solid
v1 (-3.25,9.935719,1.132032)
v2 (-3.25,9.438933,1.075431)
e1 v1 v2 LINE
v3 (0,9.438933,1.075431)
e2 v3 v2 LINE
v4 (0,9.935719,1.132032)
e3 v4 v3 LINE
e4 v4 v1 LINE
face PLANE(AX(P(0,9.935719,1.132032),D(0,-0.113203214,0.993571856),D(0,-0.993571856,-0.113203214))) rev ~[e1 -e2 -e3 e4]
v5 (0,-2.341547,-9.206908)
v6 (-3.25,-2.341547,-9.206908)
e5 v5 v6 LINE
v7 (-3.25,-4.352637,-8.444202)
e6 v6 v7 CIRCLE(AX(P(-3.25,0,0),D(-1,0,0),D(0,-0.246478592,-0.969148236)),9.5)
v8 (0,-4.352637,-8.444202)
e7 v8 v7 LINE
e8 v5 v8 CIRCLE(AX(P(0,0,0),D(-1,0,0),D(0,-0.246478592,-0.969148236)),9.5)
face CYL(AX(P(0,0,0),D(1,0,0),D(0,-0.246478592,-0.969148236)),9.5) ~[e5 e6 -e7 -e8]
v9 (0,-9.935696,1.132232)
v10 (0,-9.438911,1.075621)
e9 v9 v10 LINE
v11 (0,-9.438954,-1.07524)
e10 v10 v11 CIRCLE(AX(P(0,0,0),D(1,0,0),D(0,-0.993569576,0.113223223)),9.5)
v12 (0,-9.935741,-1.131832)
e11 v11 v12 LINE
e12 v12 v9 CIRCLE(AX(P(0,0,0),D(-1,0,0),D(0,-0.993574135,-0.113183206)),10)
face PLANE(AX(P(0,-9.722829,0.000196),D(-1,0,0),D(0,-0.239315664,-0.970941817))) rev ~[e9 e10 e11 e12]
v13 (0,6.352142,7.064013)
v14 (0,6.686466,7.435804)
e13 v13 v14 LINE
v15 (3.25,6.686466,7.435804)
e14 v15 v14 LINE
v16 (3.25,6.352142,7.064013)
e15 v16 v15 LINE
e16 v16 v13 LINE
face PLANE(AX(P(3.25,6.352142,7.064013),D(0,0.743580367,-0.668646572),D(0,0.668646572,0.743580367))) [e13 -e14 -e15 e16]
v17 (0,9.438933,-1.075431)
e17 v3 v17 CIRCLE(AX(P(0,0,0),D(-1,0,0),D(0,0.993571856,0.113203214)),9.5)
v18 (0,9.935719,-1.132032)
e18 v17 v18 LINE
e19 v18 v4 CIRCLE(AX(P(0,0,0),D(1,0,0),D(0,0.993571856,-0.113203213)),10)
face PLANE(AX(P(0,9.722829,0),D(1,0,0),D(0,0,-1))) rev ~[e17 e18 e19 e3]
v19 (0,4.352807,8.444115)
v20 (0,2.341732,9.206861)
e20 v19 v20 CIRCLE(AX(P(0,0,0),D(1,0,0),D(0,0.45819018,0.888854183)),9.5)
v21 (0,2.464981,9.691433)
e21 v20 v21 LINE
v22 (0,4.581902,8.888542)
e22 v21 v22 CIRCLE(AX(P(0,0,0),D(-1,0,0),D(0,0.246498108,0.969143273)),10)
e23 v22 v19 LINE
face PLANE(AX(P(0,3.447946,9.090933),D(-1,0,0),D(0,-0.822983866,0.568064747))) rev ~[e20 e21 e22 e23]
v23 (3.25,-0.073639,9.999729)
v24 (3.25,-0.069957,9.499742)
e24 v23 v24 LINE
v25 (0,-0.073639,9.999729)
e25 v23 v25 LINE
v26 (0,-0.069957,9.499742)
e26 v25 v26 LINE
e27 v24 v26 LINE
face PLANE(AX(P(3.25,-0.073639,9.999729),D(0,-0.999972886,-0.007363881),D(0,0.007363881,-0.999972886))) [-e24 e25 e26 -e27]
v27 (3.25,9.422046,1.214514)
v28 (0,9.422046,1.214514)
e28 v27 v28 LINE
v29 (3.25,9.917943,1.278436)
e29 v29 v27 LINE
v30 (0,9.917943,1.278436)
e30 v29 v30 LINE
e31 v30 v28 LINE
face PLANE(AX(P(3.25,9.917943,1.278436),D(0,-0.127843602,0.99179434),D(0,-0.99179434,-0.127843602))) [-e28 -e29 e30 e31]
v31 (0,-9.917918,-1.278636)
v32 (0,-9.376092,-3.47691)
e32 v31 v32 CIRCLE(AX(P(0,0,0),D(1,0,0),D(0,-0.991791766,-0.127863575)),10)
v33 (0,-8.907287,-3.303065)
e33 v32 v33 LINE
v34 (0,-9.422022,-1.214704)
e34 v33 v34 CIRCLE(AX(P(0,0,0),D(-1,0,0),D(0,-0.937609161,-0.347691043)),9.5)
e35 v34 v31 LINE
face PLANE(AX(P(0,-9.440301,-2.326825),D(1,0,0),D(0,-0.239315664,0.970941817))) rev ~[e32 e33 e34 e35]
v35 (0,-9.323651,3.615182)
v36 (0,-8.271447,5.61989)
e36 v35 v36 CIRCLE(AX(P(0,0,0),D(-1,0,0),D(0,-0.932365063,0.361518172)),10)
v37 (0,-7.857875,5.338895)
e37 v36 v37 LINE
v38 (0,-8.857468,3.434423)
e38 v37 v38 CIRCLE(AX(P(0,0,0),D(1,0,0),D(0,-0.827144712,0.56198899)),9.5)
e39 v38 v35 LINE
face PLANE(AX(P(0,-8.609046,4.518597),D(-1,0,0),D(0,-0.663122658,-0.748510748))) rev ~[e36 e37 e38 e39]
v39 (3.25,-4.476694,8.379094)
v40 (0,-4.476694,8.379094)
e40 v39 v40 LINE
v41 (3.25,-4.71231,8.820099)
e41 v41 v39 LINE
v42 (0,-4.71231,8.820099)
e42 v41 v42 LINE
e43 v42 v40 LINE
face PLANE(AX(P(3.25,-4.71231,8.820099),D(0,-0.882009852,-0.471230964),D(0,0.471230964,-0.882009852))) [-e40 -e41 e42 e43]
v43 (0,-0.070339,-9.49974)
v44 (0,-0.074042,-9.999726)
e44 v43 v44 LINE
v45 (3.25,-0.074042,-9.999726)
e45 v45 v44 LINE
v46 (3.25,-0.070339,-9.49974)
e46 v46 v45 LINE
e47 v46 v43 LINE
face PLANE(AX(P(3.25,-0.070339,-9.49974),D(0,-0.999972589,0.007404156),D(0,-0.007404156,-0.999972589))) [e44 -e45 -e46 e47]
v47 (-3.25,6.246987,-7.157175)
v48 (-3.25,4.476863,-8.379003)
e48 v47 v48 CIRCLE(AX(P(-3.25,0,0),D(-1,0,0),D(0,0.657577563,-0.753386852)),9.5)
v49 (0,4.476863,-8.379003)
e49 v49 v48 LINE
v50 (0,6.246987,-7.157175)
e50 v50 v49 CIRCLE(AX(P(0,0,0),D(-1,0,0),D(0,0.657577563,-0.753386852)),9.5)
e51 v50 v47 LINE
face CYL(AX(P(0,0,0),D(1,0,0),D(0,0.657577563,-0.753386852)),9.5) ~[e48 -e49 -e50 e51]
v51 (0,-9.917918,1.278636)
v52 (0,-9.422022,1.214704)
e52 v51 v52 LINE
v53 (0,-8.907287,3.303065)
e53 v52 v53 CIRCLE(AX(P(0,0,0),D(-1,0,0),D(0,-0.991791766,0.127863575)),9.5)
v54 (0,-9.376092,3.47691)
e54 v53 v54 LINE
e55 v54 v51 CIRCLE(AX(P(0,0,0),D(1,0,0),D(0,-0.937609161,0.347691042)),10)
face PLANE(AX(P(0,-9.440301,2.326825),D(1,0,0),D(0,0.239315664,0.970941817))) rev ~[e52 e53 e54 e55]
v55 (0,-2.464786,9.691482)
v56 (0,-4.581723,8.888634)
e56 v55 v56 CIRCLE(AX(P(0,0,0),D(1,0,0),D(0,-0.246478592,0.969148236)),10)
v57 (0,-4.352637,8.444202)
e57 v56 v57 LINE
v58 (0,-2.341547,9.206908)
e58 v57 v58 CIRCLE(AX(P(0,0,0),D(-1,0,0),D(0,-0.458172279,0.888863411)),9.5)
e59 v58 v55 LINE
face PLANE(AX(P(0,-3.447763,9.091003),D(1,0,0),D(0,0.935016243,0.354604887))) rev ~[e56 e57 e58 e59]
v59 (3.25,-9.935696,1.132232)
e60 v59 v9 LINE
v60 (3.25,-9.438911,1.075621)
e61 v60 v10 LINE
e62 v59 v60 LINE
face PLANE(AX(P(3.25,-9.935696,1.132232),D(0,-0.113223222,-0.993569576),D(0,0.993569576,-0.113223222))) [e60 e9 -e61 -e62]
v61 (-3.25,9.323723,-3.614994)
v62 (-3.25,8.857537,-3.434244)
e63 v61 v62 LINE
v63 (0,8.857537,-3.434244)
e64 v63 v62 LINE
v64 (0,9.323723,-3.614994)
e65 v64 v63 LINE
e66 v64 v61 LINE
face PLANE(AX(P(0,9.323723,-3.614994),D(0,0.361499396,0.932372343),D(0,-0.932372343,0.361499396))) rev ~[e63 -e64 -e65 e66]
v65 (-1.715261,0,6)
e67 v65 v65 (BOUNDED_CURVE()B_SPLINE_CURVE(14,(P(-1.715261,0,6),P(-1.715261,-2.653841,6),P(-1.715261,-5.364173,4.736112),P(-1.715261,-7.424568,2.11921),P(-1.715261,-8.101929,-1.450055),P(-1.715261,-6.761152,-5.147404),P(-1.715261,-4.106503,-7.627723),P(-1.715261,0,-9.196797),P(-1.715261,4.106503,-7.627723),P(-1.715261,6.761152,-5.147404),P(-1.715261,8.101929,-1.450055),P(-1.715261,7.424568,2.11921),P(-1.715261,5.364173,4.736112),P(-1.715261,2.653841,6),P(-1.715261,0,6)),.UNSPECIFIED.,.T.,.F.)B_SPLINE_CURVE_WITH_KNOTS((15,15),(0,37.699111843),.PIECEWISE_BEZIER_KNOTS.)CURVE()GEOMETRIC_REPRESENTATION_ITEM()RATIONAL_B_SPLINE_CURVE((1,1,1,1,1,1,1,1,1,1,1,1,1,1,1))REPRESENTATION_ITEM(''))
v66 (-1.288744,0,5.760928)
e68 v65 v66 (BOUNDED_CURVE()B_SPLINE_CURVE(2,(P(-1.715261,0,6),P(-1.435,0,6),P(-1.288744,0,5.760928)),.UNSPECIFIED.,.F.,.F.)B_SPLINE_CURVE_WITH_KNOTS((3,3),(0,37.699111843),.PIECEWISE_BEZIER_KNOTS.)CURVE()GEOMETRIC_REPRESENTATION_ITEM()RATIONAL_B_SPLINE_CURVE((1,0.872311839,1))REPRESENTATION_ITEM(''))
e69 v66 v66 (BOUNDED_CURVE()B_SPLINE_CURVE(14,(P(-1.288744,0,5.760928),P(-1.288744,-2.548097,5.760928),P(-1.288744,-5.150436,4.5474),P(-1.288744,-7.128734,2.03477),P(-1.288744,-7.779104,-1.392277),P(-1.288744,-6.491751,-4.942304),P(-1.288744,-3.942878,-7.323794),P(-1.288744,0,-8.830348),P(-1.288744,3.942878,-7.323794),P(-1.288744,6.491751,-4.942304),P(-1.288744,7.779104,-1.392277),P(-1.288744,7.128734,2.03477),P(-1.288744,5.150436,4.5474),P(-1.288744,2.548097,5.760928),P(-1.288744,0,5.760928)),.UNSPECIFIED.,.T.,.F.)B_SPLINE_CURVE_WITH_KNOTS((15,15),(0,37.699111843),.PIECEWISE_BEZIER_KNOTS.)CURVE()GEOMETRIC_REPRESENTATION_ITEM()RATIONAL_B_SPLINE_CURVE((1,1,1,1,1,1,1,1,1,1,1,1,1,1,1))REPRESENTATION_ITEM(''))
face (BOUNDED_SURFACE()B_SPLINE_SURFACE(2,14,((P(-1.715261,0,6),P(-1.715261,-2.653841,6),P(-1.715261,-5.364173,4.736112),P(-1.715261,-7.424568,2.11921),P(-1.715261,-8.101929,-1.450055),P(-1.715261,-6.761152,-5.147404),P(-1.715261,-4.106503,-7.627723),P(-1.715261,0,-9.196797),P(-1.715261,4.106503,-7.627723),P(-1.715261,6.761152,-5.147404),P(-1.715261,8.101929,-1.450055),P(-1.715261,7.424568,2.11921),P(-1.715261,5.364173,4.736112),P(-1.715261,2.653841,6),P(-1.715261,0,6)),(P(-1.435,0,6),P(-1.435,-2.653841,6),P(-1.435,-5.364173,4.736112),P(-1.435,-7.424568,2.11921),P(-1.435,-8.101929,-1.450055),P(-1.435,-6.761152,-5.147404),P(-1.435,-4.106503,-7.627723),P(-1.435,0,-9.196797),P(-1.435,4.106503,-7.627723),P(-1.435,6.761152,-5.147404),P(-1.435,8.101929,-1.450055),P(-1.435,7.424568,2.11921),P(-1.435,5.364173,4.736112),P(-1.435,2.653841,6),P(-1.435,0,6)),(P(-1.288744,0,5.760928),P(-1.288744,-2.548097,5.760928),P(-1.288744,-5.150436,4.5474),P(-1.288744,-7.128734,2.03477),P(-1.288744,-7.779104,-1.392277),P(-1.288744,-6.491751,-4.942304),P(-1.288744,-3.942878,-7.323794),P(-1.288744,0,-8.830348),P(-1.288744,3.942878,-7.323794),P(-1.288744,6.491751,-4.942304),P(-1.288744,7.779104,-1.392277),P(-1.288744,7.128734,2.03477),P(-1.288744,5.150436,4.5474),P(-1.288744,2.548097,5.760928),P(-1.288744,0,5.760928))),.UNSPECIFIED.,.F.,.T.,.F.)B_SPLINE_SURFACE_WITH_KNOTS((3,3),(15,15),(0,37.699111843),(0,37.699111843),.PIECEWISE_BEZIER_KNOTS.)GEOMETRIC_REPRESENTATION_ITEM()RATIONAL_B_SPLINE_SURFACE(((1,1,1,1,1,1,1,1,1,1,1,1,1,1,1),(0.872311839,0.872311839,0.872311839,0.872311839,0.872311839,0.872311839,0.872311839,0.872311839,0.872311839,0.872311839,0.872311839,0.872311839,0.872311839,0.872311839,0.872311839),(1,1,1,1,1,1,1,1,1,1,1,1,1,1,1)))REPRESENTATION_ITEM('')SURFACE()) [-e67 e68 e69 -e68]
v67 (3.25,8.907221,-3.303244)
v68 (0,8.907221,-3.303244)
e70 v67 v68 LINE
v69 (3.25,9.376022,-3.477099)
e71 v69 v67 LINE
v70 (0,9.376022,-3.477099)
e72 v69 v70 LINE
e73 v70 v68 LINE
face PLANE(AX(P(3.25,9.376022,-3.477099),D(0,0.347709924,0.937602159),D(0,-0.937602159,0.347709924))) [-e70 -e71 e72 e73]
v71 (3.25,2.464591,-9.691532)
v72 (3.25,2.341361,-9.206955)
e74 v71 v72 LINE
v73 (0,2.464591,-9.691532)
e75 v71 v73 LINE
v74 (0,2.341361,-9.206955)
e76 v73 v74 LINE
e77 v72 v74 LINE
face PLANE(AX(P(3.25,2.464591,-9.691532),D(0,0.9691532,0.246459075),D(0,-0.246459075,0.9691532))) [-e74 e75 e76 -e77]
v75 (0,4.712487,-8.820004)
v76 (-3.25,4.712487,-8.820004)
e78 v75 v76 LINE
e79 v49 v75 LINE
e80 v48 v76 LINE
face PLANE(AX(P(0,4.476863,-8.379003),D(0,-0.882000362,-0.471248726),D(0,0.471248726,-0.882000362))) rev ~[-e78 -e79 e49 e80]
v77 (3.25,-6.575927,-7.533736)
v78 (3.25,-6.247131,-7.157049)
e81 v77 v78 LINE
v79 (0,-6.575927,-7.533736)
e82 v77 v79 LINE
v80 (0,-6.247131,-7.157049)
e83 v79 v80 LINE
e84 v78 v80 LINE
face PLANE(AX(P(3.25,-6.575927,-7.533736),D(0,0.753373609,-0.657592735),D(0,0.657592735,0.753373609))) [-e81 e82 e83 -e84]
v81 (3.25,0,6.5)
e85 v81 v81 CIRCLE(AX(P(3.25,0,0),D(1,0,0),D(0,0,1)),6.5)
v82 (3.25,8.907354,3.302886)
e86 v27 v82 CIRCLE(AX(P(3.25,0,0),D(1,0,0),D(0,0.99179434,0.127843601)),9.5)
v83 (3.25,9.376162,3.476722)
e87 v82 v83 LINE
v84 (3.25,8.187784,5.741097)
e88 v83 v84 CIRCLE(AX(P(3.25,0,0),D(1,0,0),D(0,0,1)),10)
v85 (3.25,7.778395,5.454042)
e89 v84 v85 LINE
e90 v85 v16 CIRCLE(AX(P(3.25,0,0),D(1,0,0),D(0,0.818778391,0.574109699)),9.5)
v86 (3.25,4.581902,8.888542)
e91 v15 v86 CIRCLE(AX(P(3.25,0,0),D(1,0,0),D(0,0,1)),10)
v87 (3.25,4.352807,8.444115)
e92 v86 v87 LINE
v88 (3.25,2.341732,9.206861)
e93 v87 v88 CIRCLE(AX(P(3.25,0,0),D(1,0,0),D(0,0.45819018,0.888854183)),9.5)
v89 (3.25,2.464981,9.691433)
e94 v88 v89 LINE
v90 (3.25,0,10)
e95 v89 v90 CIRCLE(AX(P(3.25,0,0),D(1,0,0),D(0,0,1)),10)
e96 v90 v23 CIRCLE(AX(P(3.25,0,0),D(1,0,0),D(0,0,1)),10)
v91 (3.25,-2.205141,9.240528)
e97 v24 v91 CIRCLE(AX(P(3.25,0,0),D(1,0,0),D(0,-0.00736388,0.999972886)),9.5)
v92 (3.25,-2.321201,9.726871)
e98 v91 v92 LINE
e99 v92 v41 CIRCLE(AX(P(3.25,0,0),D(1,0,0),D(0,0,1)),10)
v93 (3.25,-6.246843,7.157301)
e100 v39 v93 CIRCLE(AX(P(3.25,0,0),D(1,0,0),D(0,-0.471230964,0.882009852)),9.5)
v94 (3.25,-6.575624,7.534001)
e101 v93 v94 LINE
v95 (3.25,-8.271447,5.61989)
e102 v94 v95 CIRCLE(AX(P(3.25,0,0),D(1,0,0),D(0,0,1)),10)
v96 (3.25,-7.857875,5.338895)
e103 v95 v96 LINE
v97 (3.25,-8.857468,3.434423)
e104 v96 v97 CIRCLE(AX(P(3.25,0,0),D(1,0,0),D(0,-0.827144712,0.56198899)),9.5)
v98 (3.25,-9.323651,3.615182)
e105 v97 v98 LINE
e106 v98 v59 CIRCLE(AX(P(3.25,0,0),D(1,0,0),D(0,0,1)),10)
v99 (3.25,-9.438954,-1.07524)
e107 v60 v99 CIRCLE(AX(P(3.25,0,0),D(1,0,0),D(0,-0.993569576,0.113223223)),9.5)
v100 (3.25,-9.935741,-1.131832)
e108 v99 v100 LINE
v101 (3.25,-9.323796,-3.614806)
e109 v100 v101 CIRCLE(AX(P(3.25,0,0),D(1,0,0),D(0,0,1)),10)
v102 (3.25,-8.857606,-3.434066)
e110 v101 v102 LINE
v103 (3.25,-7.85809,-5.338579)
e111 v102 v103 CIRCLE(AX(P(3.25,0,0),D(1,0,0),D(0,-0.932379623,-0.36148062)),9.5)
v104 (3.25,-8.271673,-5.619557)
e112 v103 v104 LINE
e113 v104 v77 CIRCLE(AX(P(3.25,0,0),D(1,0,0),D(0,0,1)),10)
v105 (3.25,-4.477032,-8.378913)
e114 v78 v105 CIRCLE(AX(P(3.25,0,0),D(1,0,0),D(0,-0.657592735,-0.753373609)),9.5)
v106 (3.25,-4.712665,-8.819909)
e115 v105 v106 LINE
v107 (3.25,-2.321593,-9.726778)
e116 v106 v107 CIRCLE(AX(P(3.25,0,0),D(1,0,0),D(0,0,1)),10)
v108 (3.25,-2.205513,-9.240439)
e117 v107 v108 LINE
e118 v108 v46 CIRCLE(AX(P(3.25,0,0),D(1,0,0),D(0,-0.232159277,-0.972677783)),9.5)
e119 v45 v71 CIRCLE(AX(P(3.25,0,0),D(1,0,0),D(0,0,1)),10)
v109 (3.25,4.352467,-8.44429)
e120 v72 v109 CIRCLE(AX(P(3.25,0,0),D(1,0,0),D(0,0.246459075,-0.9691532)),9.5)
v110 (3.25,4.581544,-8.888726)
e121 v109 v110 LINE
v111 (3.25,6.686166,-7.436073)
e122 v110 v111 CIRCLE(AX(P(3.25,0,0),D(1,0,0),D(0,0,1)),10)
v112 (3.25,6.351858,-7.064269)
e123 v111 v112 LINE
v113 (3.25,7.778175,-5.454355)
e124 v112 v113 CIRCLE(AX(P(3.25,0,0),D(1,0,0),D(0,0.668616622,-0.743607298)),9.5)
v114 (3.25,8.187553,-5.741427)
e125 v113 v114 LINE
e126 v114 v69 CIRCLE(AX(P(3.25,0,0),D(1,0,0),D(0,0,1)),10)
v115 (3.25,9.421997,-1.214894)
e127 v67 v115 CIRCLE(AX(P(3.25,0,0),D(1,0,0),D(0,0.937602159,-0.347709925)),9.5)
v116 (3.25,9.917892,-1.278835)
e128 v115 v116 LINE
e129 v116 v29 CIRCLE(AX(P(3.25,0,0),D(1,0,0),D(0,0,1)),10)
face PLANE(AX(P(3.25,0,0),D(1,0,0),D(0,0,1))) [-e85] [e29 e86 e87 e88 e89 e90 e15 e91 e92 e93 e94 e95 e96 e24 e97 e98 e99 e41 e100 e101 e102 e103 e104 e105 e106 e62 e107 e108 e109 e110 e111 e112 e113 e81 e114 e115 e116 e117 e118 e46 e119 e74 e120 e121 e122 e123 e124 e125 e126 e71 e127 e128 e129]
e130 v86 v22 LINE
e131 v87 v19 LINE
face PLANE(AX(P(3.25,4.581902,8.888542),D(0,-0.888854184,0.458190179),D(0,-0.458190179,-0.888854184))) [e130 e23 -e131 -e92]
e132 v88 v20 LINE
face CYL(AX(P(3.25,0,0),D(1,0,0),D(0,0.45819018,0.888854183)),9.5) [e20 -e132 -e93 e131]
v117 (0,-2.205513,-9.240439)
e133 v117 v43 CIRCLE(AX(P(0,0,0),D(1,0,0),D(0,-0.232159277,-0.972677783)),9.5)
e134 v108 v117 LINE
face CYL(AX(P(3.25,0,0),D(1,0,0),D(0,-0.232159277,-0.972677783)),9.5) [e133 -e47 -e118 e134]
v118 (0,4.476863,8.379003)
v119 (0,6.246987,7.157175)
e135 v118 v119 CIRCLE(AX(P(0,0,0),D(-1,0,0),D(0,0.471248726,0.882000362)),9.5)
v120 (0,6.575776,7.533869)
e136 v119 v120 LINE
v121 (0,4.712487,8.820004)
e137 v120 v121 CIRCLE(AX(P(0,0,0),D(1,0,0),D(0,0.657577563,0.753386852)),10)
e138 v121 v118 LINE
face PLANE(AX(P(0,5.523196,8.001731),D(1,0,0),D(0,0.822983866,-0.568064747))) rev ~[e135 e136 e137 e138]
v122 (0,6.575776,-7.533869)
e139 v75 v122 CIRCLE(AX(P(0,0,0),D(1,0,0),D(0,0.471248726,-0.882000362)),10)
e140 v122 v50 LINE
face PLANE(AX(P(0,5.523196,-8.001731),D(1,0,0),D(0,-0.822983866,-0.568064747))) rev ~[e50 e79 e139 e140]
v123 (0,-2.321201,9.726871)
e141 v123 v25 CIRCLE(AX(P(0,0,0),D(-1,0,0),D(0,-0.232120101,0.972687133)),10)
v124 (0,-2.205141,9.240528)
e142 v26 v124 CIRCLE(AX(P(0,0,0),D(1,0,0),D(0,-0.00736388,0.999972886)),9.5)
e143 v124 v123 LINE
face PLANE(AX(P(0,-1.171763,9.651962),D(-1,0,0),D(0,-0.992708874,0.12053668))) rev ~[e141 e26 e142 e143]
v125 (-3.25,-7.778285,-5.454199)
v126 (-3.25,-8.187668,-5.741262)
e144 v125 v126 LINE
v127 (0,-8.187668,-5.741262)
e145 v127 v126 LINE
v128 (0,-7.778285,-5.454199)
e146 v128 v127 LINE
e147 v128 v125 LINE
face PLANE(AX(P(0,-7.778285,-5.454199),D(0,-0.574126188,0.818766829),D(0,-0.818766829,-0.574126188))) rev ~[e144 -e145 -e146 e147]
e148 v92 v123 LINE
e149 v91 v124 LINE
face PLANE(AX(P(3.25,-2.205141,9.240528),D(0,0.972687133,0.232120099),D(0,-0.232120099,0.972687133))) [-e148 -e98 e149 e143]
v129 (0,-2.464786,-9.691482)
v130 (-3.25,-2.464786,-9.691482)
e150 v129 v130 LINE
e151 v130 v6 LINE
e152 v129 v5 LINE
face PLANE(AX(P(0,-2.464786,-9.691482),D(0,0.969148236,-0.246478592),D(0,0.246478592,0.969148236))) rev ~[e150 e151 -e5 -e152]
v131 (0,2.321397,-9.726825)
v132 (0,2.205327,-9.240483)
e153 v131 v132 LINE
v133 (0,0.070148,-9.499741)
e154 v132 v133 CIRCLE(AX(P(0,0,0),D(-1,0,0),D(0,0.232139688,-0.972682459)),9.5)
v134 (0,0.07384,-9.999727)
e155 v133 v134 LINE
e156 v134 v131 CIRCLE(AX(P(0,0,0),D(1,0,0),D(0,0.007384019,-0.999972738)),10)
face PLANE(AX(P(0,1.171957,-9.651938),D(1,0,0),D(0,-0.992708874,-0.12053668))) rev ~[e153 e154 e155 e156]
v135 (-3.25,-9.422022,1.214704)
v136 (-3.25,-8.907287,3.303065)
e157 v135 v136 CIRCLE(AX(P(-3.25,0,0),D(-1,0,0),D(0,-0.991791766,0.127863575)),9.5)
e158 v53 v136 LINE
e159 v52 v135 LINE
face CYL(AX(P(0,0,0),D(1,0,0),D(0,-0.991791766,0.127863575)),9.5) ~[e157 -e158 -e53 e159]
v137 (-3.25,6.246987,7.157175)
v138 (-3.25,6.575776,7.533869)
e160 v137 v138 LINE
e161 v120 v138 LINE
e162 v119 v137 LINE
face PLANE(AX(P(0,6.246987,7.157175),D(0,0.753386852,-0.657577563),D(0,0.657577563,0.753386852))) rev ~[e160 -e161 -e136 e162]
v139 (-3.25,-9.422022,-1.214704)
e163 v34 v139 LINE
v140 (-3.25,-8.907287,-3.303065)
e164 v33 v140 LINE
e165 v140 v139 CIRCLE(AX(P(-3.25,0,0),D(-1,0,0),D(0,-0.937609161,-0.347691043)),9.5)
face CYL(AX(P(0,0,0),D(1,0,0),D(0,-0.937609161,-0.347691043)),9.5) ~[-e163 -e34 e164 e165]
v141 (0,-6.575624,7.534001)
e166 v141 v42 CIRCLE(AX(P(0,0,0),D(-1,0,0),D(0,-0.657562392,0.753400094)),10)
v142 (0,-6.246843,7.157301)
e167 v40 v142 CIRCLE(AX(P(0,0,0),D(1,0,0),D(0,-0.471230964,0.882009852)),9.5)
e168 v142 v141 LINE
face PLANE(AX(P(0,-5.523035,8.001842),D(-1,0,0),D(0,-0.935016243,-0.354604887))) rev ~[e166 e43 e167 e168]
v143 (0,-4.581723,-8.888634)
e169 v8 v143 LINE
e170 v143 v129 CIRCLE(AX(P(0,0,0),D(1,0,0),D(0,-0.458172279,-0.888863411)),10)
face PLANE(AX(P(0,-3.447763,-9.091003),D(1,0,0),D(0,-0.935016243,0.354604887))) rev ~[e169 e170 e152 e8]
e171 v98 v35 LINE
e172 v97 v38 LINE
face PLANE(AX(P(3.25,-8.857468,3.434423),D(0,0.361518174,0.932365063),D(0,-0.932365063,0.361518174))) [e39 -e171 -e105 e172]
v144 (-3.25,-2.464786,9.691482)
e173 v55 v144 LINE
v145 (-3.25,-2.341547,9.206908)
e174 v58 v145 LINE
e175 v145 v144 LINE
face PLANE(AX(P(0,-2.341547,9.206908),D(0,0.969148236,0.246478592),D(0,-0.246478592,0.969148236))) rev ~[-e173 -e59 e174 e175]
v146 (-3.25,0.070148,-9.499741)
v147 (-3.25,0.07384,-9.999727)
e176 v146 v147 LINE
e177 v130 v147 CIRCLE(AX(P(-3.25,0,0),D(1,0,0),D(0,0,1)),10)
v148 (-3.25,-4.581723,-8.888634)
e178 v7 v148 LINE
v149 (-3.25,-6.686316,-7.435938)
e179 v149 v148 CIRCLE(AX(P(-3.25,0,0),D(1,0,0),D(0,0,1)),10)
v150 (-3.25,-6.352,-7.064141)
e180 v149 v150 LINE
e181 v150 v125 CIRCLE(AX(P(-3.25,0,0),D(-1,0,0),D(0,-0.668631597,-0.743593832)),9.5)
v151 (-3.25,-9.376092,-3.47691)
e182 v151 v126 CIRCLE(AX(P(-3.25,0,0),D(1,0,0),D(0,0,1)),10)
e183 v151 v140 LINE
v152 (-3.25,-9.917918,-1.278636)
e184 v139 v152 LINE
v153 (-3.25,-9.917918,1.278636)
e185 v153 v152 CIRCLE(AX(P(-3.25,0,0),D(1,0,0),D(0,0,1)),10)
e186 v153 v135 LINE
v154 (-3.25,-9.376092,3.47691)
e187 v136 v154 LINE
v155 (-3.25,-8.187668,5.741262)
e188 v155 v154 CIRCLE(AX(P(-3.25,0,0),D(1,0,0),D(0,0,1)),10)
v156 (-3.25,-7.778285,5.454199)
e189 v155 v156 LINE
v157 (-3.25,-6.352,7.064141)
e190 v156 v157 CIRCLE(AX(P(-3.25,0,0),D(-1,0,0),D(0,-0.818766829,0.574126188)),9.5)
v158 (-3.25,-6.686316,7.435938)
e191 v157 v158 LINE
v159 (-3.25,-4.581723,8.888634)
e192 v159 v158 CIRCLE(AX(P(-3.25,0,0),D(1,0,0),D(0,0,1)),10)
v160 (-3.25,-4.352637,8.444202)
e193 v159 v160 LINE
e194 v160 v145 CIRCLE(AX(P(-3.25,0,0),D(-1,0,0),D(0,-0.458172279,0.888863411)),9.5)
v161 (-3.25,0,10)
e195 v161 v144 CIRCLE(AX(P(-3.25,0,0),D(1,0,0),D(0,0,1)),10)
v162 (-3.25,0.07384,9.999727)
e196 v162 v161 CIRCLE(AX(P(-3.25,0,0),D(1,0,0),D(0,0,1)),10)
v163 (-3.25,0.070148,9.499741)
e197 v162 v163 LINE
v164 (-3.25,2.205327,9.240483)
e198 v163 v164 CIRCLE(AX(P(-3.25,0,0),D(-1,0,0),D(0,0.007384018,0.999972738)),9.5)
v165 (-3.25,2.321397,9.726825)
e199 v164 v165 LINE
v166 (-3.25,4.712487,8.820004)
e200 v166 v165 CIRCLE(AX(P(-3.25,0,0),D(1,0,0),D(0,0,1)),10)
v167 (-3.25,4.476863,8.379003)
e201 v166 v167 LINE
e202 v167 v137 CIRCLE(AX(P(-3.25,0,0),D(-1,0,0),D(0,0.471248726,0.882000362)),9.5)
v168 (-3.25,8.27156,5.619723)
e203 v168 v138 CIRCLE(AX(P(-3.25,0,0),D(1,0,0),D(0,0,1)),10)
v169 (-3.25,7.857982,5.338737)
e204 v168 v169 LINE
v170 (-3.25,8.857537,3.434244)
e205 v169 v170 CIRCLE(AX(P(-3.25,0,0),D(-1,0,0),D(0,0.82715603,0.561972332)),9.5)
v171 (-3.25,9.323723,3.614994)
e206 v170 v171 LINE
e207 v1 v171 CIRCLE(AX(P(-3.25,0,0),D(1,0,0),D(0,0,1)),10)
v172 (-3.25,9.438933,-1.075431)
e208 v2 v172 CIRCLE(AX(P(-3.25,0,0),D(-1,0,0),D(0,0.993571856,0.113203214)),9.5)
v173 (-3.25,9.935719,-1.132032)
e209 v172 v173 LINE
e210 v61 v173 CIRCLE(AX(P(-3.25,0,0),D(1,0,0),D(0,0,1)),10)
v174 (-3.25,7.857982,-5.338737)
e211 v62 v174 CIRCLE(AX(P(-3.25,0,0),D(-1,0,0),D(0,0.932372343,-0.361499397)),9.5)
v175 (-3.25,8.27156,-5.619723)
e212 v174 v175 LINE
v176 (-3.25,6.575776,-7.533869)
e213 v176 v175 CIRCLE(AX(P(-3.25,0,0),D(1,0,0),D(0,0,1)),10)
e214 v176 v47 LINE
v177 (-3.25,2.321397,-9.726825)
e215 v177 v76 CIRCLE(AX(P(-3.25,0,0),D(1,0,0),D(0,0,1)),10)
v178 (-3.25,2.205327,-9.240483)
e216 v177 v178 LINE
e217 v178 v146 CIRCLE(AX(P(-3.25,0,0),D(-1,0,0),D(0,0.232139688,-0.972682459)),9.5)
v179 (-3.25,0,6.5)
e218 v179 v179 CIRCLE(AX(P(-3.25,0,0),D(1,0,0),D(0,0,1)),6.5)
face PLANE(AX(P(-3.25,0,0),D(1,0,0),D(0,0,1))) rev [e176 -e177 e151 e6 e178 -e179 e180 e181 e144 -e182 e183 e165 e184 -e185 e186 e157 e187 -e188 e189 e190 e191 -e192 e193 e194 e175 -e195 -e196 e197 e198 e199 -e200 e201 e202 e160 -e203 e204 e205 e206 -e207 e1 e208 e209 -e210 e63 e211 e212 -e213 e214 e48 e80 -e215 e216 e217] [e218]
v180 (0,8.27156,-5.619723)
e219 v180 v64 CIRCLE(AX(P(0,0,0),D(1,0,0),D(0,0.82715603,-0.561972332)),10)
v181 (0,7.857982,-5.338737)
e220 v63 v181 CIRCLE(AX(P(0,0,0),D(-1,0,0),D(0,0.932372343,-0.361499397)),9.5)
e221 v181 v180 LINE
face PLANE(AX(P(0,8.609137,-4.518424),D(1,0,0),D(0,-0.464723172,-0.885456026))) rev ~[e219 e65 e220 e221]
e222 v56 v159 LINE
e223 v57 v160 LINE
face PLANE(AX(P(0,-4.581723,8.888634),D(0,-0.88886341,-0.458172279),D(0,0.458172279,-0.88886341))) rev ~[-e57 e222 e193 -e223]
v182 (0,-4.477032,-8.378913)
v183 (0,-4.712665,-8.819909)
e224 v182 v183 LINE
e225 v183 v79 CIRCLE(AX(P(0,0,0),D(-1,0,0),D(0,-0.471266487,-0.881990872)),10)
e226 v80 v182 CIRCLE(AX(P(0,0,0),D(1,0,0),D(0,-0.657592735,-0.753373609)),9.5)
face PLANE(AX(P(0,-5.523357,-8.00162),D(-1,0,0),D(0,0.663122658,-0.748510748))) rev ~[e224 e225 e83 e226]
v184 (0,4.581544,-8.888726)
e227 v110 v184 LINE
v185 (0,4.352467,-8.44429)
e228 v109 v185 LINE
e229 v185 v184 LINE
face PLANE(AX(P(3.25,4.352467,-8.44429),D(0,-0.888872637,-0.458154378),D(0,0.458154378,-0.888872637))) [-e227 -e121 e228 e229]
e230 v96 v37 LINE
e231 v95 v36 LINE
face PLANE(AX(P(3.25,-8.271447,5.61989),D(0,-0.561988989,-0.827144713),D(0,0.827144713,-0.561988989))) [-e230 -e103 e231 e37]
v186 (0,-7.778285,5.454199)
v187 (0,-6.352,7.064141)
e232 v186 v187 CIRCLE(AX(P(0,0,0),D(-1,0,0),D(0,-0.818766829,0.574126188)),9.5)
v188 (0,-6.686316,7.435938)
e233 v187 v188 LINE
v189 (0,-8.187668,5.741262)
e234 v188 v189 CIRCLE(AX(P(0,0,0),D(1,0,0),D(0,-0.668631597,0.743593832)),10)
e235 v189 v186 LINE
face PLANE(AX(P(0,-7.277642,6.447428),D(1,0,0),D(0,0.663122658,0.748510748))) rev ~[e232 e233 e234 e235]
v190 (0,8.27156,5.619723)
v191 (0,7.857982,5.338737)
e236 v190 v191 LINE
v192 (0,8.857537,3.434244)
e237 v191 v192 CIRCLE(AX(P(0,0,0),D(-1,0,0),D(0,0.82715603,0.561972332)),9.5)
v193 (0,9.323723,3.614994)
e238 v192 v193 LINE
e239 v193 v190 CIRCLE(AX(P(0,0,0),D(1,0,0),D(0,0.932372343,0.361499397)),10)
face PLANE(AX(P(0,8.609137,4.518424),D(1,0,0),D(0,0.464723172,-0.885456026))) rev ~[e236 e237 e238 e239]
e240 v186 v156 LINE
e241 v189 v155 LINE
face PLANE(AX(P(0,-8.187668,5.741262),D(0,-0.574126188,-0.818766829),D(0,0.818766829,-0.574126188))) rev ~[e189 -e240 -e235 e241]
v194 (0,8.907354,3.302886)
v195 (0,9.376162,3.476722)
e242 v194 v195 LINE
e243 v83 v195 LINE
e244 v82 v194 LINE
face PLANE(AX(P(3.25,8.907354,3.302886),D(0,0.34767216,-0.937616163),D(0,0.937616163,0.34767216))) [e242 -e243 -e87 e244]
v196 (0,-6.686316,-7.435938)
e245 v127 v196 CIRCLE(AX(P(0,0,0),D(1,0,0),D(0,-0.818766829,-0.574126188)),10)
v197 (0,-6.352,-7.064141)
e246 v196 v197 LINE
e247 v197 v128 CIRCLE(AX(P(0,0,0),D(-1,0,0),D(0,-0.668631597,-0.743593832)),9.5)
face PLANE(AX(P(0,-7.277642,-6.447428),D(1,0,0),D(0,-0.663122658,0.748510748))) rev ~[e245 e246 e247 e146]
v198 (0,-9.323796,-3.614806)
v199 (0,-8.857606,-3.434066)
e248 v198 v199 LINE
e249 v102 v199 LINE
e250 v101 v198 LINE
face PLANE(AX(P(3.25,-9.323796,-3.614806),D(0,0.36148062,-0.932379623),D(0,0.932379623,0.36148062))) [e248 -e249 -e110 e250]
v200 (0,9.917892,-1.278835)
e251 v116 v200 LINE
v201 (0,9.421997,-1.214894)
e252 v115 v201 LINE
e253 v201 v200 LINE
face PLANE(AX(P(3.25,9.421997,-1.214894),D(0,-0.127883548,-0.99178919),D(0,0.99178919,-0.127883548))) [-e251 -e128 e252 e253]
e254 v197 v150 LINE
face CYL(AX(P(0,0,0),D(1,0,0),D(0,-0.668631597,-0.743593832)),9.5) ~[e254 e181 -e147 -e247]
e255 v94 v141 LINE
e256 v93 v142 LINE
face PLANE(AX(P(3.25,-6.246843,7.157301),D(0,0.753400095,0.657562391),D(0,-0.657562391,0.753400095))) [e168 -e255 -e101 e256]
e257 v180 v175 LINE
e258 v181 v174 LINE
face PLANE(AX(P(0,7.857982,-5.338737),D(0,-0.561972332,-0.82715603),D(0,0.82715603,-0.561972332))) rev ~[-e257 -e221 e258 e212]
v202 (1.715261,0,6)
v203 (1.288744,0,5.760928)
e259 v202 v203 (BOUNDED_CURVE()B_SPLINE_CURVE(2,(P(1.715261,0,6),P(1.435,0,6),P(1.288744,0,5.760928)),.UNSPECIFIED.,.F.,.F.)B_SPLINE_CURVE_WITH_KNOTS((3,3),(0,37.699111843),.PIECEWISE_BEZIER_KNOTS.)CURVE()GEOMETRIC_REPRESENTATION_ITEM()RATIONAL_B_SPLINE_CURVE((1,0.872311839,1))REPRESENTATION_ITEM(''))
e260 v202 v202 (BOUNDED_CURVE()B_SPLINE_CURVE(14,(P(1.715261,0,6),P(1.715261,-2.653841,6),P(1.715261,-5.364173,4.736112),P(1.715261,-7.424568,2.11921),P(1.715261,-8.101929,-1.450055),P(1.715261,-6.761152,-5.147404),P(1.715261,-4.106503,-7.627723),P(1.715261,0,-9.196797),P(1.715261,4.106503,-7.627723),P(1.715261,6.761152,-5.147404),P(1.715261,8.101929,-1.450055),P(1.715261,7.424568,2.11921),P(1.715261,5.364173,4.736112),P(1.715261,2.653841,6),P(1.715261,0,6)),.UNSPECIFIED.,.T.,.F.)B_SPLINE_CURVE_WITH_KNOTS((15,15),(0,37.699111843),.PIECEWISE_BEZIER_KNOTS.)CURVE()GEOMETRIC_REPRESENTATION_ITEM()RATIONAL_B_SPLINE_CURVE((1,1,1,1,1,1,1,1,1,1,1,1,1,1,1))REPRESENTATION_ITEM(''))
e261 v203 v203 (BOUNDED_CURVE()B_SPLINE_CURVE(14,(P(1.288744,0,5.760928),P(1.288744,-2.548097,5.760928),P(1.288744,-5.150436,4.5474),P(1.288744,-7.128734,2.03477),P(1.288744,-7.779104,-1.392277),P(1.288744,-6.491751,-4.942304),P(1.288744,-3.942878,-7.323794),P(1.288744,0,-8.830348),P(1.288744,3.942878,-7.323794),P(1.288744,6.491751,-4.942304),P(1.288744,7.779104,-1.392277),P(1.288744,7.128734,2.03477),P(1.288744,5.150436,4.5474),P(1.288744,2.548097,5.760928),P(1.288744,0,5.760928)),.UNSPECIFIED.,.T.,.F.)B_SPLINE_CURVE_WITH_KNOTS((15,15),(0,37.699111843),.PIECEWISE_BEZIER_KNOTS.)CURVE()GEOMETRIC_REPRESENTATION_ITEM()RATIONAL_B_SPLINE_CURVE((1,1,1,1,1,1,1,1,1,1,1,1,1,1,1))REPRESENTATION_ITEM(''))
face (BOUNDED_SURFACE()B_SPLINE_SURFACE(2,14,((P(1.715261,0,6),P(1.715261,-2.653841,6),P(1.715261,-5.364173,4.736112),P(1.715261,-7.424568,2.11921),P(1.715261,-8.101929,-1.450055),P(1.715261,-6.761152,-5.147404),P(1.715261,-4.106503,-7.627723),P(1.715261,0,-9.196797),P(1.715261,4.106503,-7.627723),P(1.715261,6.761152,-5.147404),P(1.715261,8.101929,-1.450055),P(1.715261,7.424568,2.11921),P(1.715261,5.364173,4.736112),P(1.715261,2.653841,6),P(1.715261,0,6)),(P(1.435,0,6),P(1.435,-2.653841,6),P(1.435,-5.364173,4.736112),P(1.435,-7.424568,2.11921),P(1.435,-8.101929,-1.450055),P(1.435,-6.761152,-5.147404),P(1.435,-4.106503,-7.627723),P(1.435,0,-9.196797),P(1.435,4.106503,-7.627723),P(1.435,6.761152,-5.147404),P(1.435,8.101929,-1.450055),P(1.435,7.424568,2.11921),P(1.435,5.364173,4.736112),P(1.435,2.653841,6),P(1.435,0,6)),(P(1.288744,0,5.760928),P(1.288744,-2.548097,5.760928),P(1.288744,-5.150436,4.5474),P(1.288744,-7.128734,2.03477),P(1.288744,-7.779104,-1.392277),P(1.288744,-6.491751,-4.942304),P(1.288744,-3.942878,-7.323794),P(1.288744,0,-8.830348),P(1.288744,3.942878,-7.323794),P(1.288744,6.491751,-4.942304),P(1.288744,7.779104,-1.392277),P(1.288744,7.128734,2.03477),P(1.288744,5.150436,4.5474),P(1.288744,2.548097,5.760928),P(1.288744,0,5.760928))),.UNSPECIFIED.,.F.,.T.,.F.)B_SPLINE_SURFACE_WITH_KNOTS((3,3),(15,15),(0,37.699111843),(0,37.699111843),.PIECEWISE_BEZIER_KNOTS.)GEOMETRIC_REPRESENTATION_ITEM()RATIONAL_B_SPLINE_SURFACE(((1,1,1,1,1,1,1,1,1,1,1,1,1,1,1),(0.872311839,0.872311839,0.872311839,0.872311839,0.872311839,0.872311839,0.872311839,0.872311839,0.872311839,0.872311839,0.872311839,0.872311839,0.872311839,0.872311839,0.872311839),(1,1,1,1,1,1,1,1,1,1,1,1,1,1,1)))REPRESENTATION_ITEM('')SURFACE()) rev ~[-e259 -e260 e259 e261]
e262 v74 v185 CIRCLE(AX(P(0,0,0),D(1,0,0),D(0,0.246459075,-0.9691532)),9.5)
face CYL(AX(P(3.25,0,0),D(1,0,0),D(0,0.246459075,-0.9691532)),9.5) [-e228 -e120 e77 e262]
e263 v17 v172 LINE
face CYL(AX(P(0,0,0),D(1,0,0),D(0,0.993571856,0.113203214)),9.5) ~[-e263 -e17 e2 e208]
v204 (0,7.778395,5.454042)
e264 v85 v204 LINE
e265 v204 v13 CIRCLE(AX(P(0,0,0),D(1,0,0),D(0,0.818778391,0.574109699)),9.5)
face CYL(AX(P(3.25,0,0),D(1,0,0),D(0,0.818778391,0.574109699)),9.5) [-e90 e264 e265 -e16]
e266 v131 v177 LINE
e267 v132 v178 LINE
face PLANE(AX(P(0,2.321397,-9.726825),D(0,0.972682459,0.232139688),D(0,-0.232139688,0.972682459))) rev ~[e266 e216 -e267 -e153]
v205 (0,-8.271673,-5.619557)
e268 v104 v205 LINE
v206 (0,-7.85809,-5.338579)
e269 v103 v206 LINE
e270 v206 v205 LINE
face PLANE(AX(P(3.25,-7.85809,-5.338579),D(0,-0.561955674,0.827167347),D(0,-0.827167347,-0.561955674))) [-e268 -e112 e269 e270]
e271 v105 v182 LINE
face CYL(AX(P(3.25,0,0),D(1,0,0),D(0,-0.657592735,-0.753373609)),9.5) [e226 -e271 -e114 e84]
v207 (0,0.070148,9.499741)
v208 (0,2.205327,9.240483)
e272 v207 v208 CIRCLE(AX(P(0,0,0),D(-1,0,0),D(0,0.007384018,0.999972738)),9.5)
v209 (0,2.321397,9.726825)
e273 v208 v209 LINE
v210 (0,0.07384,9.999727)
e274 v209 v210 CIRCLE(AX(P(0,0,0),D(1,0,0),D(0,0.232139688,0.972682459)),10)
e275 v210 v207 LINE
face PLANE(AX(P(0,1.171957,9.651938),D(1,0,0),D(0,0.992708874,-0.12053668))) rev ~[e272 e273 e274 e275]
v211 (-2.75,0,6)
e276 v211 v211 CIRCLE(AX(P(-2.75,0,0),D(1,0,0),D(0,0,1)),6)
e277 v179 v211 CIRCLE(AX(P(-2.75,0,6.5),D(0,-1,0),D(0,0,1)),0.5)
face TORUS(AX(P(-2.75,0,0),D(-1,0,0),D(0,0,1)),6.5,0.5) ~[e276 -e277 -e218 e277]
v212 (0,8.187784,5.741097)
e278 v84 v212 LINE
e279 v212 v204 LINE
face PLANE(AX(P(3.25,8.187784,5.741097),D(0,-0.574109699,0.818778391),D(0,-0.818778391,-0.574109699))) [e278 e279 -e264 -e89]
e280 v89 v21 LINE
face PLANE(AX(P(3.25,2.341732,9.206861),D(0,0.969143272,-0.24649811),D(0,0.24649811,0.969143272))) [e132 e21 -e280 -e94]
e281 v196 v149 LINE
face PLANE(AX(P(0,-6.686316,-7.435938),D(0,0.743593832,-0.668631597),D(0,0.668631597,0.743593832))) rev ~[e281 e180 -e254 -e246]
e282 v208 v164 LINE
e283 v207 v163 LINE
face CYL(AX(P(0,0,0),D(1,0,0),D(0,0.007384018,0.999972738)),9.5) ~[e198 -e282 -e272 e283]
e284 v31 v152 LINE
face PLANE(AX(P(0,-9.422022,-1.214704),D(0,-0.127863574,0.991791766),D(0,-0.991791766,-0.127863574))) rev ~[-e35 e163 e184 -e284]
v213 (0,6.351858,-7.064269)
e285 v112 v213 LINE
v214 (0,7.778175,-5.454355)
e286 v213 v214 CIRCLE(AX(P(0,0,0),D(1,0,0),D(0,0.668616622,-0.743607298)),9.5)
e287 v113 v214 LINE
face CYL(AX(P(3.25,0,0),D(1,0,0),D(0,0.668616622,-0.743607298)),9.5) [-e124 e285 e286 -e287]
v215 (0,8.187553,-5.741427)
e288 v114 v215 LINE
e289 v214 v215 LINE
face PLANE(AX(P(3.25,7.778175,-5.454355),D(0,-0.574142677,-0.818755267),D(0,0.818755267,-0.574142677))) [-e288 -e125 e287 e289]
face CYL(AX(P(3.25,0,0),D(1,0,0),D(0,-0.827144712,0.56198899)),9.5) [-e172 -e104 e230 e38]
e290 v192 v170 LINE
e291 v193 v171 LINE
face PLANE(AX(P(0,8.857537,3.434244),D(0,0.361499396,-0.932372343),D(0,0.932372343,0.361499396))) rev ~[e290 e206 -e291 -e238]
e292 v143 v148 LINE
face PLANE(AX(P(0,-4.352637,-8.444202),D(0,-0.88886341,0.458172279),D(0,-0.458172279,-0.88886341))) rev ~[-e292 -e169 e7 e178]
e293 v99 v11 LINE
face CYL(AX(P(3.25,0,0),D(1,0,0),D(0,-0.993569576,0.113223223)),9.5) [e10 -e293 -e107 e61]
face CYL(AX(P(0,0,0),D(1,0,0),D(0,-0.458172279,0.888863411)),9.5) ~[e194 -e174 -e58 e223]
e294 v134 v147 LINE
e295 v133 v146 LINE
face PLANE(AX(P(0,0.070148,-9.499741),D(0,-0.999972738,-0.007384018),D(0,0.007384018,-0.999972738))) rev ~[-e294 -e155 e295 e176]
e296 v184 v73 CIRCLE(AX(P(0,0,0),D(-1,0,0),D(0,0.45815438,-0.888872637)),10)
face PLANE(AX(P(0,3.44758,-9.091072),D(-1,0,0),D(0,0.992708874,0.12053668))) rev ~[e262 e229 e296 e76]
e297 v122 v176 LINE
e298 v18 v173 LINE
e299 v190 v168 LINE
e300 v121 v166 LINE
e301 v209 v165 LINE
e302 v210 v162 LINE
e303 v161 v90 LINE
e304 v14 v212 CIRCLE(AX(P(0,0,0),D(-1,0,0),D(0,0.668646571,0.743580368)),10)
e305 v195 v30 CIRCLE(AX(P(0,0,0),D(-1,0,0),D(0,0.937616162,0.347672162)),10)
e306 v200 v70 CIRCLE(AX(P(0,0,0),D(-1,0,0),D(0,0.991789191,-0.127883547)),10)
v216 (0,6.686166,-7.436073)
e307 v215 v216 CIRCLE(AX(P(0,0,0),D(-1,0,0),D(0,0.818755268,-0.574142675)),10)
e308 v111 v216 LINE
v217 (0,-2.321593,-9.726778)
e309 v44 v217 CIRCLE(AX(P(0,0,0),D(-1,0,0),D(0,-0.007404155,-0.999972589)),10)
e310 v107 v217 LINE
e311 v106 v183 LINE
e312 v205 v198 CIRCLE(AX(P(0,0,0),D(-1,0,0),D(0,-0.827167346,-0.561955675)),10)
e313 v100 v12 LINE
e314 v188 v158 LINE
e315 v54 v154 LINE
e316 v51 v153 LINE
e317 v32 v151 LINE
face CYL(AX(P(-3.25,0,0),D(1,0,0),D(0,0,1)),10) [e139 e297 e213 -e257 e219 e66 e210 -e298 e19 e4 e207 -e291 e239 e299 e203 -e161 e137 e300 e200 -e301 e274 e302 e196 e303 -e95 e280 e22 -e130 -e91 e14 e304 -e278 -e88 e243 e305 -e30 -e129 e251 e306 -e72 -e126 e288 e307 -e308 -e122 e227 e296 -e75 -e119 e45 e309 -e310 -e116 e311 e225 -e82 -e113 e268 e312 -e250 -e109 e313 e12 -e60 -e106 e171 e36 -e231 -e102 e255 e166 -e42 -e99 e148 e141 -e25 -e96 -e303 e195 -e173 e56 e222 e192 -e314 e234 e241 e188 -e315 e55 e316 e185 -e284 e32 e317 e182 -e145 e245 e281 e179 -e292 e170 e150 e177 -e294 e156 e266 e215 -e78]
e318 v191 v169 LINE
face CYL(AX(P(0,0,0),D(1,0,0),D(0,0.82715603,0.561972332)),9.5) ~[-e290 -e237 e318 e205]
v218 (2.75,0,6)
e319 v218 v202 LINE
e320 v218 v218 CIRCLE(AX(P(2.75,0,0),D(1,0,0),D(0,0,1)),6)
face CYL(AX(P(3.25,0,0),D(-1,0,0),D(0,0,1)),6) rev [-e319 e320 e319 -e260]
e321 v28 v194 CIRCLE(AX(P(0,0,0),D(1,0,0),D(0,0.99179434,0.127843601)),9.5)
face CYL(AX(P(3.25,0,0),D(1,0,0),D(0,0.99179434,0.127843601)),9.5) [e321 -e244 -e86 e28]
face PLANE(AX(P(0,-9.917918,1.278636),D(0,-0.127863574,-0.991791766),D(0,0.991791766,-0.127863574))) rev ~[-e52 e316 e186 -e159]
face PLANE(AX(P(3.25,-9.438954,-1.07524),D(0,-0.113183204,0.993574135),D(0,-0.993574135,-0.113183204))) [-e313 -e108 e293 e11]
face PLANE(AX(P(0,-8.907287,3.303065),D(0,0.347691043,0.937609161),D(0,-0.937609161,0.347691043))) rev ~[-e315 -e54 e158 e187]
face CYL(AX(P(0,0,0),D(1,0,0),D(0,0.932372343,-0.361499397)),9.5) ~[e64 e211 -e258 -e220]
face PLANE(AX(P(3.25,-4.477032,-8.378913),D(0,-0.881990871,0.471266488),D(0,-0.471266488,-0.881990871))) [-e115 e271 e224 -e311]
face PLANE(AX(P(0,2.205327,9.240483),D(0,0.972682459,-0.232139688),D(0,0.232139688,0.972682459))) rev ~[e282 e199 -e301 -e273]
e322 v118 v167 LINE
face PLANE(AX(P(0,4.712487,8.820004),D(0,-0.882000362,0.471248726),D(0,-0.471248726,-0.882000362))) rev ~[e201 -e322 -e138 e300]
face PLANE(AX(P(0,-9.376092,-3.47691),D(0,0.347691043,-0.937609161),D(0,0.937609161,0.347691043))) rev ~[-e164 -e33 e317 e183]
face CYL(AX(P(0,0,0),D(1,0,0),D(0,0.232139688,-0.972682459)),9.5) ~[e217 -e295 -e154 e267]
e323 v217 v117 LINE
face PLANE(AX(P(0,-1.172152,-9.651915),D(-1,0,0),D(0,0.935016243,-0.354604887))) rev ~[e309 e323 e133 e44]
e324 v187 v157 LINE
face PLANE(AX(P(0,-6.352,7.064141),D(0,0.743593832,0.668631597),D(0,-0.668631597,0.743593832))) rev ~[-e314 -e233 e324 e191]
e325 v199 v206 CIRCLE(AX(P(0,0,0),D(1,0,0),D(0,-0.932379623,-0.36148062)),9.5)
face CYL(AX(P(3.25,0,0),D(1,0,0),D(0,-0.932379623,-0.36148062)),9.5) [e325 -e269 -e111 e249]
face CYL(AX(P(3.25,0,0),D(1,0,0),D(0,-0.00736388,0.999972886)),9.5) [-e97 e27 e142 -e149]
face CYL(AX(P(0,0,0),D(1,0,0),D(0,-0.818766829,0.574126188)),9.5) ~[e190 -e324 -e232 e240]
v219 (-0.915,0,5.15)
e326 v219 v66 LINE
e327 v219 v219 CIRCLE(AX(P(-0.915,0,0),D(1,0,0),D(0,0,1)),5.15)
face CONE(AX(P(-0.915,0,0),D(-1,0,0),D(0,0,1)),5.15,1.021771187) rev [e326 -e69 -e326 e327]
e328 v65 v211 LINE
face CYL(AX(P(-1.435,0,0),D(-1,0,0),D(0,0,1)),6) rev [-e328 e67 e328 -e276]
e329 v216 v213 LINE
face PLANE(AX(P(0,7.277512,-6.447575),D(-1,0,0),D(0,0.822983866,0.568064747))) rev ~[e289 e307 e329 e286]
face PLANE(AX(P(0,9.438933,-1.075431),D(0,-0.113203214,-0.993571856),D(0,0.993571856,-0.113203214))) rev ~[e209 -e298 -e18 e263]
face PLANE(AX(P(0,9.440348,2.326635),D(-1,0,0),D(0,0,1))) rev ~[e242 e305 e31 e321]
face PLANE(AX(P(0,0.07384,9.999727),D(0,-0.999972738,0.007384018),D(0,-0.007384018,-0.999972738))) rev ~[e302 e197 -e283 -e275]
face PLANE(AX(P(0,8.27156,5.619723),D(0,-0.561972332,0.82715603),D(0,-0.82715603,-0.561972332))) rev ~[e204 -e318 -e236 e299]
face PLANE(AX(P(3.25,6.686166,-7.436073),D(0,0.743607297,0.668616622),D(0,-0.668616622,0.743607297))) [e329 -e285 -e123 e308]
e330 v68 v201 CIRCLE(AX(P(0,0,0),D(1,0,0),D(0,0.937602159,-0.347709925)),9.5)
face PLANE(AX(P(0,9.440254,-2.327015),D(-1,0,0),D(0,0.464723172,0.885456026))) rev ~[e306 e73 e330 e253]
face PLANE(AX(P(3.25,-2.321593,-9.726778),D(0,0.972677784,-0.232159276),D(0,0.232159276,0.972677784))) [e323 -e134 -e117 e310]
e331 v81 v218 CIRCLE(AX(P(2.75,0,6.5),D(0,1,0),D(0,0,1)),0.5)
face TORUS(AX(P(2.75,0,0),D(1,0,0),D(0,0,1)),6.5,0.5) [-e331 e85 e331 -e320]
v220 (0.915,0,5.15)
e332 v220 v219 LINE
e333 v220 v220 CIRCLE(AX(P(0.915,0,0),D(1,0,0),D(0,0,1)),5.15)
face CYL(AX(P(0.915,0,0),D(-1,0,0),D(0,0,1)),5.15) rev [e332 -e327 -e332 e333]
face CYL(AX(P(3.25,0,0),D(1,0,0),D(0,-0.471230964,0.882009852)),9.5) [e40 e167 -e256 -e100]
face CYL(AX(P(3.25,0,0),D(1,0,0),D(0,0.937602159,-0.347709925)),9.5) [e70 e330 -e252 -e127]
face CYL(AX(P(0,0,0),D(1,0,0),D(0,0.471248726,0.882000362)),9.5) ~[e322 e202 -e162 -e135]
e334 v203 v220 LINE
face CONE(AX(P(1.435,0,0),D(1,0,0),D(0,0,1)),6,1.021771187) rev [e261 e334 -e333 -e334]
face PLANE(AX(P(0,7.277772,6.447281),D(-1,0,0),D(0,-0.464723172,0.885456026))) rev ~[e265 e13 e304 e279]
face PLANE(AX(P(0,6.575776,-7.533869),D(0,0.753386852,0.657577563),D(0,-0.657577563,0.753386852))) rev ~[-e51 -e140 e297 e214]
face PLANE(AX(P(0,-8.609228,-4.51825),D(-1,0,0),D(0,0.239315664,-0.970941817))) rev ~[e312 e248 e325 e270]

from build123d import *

# Parameters (mm, degrees)
CUT_EXTRUDE1_START = -3.25
CUT_EXTRUDE1_DEPTH = 3.25
CIRPATTERN1_COUNT  = 13
CUT_EXTRUDE2_DEPTH = 3.25
CIRPATTERN2_COUNT  = 13
FILLET1_R          = 0.5


with BuildPart() as part:
    # Sketch1 → Revolve1 (revolve)
    with BuildSketch(Plane.XY, mode=Mode.PRIVATE) as revolve1_sk:
        Polygon((-3.25, 10), (3.25, 10), (3.25, 6), (1.435, 6), (0.915, 5.15), (-0.915, 5.15), (-1.435, 6), (-3.25, 6), align=None)
    revolve(revolve1_sk.sketch.rotate(Axis((0, 0, 0), (1, 0, 0)), 90), axis=Axis((0, 0, 0), (1, 0, 0)))

    # Sketch2 → Cut-Extrude1 (cut)
    with BuildSketch(Plane.ZY.offset(3.25).offset(CUT_EXTRUDE1_START)):
        with BuildLine():
            Line((-1.075430531, 9.438932629), (-1.132032138, 9.935718557))
            ThreePointArc((-1.132032138, 9.935718557), (0, 10), (1.132032138, 9.935718557))
            Line((1.132032138, 9.935718557), (1.075430531, 9.438932629))
            ThreePointArc((1.075430531, 9.438932629), (0, 9.5), (-1.075430531, 9.438932629))
        make_face()
    cut_extrude1 = extrude(amount=CUT_EXTRUDE1_DEPTH, mode=Mode.SUBTRACT)

    # CirPattern1: Cut-Extrude1 ×13 about axis
    cirpattern1_axis = Axis((0, 0, 0), (1, 0, 0))
    for i in range(1, CIRPATTERN1_COUNT):
        add(cut_extrude1.rotate(cirpattern1_axis, i * 360 / CIRPATTERN1_COUNT), mode=Mode.SUBTRACT)

    # Sketch3 → Cut-Extrude2 (cut)
    with BuildSketch(Plane(origin=(3.25, 0, 0), x_dir=(0, 0, -1), z_dir=(1, 0, 0))):
        with BuildLine():
            Line((-3.302885527, 8.907353546), (-3.476721607, 9.376161627))
            ThreePointArc((-3.476721607, 9.376161627), (-2.39296111, 9.709466367), (-1.278436014, 9.917943404))
            Line((-1.278436014, 9.917943404), (-1.214514213, 9.422046233))
            ThreePointArc((-1.214514213, 9.422046233), (-2.273313055, 9.223993048), (-3.302885527, 8.907353546))
        make_face()
    cut_extrude2 = extrude(amount=-CUT_EXTRUDE2_DEPTH, mode=Mode.SUBTRACT)

    # CirPattern2: Cut-Extrude2 ×13 about axis
    cirpattern2_axis = Axis((0, 0, 0), (1, 0, 0))
    for i in range(1, CIRPATTERN2_COUNT):
        add(cut_extrude2.rotate(cirpattern2_axis, i * 360 / CIRPATTERN2_COUNT), mode=Mode.SUBTRACT)

    # Fillet1
    fillet1_edges = [part.edges().sort_by_distance(p)[0] for p in [
        (1.435, 0, -6),
        (3.25, 0, -6),
        (-3.25, 0, -6),
        (-1.435, 0, -6),
    ]]
    fillet(fillet1_edges, radius=FILLET1_R)


solid = part.part
